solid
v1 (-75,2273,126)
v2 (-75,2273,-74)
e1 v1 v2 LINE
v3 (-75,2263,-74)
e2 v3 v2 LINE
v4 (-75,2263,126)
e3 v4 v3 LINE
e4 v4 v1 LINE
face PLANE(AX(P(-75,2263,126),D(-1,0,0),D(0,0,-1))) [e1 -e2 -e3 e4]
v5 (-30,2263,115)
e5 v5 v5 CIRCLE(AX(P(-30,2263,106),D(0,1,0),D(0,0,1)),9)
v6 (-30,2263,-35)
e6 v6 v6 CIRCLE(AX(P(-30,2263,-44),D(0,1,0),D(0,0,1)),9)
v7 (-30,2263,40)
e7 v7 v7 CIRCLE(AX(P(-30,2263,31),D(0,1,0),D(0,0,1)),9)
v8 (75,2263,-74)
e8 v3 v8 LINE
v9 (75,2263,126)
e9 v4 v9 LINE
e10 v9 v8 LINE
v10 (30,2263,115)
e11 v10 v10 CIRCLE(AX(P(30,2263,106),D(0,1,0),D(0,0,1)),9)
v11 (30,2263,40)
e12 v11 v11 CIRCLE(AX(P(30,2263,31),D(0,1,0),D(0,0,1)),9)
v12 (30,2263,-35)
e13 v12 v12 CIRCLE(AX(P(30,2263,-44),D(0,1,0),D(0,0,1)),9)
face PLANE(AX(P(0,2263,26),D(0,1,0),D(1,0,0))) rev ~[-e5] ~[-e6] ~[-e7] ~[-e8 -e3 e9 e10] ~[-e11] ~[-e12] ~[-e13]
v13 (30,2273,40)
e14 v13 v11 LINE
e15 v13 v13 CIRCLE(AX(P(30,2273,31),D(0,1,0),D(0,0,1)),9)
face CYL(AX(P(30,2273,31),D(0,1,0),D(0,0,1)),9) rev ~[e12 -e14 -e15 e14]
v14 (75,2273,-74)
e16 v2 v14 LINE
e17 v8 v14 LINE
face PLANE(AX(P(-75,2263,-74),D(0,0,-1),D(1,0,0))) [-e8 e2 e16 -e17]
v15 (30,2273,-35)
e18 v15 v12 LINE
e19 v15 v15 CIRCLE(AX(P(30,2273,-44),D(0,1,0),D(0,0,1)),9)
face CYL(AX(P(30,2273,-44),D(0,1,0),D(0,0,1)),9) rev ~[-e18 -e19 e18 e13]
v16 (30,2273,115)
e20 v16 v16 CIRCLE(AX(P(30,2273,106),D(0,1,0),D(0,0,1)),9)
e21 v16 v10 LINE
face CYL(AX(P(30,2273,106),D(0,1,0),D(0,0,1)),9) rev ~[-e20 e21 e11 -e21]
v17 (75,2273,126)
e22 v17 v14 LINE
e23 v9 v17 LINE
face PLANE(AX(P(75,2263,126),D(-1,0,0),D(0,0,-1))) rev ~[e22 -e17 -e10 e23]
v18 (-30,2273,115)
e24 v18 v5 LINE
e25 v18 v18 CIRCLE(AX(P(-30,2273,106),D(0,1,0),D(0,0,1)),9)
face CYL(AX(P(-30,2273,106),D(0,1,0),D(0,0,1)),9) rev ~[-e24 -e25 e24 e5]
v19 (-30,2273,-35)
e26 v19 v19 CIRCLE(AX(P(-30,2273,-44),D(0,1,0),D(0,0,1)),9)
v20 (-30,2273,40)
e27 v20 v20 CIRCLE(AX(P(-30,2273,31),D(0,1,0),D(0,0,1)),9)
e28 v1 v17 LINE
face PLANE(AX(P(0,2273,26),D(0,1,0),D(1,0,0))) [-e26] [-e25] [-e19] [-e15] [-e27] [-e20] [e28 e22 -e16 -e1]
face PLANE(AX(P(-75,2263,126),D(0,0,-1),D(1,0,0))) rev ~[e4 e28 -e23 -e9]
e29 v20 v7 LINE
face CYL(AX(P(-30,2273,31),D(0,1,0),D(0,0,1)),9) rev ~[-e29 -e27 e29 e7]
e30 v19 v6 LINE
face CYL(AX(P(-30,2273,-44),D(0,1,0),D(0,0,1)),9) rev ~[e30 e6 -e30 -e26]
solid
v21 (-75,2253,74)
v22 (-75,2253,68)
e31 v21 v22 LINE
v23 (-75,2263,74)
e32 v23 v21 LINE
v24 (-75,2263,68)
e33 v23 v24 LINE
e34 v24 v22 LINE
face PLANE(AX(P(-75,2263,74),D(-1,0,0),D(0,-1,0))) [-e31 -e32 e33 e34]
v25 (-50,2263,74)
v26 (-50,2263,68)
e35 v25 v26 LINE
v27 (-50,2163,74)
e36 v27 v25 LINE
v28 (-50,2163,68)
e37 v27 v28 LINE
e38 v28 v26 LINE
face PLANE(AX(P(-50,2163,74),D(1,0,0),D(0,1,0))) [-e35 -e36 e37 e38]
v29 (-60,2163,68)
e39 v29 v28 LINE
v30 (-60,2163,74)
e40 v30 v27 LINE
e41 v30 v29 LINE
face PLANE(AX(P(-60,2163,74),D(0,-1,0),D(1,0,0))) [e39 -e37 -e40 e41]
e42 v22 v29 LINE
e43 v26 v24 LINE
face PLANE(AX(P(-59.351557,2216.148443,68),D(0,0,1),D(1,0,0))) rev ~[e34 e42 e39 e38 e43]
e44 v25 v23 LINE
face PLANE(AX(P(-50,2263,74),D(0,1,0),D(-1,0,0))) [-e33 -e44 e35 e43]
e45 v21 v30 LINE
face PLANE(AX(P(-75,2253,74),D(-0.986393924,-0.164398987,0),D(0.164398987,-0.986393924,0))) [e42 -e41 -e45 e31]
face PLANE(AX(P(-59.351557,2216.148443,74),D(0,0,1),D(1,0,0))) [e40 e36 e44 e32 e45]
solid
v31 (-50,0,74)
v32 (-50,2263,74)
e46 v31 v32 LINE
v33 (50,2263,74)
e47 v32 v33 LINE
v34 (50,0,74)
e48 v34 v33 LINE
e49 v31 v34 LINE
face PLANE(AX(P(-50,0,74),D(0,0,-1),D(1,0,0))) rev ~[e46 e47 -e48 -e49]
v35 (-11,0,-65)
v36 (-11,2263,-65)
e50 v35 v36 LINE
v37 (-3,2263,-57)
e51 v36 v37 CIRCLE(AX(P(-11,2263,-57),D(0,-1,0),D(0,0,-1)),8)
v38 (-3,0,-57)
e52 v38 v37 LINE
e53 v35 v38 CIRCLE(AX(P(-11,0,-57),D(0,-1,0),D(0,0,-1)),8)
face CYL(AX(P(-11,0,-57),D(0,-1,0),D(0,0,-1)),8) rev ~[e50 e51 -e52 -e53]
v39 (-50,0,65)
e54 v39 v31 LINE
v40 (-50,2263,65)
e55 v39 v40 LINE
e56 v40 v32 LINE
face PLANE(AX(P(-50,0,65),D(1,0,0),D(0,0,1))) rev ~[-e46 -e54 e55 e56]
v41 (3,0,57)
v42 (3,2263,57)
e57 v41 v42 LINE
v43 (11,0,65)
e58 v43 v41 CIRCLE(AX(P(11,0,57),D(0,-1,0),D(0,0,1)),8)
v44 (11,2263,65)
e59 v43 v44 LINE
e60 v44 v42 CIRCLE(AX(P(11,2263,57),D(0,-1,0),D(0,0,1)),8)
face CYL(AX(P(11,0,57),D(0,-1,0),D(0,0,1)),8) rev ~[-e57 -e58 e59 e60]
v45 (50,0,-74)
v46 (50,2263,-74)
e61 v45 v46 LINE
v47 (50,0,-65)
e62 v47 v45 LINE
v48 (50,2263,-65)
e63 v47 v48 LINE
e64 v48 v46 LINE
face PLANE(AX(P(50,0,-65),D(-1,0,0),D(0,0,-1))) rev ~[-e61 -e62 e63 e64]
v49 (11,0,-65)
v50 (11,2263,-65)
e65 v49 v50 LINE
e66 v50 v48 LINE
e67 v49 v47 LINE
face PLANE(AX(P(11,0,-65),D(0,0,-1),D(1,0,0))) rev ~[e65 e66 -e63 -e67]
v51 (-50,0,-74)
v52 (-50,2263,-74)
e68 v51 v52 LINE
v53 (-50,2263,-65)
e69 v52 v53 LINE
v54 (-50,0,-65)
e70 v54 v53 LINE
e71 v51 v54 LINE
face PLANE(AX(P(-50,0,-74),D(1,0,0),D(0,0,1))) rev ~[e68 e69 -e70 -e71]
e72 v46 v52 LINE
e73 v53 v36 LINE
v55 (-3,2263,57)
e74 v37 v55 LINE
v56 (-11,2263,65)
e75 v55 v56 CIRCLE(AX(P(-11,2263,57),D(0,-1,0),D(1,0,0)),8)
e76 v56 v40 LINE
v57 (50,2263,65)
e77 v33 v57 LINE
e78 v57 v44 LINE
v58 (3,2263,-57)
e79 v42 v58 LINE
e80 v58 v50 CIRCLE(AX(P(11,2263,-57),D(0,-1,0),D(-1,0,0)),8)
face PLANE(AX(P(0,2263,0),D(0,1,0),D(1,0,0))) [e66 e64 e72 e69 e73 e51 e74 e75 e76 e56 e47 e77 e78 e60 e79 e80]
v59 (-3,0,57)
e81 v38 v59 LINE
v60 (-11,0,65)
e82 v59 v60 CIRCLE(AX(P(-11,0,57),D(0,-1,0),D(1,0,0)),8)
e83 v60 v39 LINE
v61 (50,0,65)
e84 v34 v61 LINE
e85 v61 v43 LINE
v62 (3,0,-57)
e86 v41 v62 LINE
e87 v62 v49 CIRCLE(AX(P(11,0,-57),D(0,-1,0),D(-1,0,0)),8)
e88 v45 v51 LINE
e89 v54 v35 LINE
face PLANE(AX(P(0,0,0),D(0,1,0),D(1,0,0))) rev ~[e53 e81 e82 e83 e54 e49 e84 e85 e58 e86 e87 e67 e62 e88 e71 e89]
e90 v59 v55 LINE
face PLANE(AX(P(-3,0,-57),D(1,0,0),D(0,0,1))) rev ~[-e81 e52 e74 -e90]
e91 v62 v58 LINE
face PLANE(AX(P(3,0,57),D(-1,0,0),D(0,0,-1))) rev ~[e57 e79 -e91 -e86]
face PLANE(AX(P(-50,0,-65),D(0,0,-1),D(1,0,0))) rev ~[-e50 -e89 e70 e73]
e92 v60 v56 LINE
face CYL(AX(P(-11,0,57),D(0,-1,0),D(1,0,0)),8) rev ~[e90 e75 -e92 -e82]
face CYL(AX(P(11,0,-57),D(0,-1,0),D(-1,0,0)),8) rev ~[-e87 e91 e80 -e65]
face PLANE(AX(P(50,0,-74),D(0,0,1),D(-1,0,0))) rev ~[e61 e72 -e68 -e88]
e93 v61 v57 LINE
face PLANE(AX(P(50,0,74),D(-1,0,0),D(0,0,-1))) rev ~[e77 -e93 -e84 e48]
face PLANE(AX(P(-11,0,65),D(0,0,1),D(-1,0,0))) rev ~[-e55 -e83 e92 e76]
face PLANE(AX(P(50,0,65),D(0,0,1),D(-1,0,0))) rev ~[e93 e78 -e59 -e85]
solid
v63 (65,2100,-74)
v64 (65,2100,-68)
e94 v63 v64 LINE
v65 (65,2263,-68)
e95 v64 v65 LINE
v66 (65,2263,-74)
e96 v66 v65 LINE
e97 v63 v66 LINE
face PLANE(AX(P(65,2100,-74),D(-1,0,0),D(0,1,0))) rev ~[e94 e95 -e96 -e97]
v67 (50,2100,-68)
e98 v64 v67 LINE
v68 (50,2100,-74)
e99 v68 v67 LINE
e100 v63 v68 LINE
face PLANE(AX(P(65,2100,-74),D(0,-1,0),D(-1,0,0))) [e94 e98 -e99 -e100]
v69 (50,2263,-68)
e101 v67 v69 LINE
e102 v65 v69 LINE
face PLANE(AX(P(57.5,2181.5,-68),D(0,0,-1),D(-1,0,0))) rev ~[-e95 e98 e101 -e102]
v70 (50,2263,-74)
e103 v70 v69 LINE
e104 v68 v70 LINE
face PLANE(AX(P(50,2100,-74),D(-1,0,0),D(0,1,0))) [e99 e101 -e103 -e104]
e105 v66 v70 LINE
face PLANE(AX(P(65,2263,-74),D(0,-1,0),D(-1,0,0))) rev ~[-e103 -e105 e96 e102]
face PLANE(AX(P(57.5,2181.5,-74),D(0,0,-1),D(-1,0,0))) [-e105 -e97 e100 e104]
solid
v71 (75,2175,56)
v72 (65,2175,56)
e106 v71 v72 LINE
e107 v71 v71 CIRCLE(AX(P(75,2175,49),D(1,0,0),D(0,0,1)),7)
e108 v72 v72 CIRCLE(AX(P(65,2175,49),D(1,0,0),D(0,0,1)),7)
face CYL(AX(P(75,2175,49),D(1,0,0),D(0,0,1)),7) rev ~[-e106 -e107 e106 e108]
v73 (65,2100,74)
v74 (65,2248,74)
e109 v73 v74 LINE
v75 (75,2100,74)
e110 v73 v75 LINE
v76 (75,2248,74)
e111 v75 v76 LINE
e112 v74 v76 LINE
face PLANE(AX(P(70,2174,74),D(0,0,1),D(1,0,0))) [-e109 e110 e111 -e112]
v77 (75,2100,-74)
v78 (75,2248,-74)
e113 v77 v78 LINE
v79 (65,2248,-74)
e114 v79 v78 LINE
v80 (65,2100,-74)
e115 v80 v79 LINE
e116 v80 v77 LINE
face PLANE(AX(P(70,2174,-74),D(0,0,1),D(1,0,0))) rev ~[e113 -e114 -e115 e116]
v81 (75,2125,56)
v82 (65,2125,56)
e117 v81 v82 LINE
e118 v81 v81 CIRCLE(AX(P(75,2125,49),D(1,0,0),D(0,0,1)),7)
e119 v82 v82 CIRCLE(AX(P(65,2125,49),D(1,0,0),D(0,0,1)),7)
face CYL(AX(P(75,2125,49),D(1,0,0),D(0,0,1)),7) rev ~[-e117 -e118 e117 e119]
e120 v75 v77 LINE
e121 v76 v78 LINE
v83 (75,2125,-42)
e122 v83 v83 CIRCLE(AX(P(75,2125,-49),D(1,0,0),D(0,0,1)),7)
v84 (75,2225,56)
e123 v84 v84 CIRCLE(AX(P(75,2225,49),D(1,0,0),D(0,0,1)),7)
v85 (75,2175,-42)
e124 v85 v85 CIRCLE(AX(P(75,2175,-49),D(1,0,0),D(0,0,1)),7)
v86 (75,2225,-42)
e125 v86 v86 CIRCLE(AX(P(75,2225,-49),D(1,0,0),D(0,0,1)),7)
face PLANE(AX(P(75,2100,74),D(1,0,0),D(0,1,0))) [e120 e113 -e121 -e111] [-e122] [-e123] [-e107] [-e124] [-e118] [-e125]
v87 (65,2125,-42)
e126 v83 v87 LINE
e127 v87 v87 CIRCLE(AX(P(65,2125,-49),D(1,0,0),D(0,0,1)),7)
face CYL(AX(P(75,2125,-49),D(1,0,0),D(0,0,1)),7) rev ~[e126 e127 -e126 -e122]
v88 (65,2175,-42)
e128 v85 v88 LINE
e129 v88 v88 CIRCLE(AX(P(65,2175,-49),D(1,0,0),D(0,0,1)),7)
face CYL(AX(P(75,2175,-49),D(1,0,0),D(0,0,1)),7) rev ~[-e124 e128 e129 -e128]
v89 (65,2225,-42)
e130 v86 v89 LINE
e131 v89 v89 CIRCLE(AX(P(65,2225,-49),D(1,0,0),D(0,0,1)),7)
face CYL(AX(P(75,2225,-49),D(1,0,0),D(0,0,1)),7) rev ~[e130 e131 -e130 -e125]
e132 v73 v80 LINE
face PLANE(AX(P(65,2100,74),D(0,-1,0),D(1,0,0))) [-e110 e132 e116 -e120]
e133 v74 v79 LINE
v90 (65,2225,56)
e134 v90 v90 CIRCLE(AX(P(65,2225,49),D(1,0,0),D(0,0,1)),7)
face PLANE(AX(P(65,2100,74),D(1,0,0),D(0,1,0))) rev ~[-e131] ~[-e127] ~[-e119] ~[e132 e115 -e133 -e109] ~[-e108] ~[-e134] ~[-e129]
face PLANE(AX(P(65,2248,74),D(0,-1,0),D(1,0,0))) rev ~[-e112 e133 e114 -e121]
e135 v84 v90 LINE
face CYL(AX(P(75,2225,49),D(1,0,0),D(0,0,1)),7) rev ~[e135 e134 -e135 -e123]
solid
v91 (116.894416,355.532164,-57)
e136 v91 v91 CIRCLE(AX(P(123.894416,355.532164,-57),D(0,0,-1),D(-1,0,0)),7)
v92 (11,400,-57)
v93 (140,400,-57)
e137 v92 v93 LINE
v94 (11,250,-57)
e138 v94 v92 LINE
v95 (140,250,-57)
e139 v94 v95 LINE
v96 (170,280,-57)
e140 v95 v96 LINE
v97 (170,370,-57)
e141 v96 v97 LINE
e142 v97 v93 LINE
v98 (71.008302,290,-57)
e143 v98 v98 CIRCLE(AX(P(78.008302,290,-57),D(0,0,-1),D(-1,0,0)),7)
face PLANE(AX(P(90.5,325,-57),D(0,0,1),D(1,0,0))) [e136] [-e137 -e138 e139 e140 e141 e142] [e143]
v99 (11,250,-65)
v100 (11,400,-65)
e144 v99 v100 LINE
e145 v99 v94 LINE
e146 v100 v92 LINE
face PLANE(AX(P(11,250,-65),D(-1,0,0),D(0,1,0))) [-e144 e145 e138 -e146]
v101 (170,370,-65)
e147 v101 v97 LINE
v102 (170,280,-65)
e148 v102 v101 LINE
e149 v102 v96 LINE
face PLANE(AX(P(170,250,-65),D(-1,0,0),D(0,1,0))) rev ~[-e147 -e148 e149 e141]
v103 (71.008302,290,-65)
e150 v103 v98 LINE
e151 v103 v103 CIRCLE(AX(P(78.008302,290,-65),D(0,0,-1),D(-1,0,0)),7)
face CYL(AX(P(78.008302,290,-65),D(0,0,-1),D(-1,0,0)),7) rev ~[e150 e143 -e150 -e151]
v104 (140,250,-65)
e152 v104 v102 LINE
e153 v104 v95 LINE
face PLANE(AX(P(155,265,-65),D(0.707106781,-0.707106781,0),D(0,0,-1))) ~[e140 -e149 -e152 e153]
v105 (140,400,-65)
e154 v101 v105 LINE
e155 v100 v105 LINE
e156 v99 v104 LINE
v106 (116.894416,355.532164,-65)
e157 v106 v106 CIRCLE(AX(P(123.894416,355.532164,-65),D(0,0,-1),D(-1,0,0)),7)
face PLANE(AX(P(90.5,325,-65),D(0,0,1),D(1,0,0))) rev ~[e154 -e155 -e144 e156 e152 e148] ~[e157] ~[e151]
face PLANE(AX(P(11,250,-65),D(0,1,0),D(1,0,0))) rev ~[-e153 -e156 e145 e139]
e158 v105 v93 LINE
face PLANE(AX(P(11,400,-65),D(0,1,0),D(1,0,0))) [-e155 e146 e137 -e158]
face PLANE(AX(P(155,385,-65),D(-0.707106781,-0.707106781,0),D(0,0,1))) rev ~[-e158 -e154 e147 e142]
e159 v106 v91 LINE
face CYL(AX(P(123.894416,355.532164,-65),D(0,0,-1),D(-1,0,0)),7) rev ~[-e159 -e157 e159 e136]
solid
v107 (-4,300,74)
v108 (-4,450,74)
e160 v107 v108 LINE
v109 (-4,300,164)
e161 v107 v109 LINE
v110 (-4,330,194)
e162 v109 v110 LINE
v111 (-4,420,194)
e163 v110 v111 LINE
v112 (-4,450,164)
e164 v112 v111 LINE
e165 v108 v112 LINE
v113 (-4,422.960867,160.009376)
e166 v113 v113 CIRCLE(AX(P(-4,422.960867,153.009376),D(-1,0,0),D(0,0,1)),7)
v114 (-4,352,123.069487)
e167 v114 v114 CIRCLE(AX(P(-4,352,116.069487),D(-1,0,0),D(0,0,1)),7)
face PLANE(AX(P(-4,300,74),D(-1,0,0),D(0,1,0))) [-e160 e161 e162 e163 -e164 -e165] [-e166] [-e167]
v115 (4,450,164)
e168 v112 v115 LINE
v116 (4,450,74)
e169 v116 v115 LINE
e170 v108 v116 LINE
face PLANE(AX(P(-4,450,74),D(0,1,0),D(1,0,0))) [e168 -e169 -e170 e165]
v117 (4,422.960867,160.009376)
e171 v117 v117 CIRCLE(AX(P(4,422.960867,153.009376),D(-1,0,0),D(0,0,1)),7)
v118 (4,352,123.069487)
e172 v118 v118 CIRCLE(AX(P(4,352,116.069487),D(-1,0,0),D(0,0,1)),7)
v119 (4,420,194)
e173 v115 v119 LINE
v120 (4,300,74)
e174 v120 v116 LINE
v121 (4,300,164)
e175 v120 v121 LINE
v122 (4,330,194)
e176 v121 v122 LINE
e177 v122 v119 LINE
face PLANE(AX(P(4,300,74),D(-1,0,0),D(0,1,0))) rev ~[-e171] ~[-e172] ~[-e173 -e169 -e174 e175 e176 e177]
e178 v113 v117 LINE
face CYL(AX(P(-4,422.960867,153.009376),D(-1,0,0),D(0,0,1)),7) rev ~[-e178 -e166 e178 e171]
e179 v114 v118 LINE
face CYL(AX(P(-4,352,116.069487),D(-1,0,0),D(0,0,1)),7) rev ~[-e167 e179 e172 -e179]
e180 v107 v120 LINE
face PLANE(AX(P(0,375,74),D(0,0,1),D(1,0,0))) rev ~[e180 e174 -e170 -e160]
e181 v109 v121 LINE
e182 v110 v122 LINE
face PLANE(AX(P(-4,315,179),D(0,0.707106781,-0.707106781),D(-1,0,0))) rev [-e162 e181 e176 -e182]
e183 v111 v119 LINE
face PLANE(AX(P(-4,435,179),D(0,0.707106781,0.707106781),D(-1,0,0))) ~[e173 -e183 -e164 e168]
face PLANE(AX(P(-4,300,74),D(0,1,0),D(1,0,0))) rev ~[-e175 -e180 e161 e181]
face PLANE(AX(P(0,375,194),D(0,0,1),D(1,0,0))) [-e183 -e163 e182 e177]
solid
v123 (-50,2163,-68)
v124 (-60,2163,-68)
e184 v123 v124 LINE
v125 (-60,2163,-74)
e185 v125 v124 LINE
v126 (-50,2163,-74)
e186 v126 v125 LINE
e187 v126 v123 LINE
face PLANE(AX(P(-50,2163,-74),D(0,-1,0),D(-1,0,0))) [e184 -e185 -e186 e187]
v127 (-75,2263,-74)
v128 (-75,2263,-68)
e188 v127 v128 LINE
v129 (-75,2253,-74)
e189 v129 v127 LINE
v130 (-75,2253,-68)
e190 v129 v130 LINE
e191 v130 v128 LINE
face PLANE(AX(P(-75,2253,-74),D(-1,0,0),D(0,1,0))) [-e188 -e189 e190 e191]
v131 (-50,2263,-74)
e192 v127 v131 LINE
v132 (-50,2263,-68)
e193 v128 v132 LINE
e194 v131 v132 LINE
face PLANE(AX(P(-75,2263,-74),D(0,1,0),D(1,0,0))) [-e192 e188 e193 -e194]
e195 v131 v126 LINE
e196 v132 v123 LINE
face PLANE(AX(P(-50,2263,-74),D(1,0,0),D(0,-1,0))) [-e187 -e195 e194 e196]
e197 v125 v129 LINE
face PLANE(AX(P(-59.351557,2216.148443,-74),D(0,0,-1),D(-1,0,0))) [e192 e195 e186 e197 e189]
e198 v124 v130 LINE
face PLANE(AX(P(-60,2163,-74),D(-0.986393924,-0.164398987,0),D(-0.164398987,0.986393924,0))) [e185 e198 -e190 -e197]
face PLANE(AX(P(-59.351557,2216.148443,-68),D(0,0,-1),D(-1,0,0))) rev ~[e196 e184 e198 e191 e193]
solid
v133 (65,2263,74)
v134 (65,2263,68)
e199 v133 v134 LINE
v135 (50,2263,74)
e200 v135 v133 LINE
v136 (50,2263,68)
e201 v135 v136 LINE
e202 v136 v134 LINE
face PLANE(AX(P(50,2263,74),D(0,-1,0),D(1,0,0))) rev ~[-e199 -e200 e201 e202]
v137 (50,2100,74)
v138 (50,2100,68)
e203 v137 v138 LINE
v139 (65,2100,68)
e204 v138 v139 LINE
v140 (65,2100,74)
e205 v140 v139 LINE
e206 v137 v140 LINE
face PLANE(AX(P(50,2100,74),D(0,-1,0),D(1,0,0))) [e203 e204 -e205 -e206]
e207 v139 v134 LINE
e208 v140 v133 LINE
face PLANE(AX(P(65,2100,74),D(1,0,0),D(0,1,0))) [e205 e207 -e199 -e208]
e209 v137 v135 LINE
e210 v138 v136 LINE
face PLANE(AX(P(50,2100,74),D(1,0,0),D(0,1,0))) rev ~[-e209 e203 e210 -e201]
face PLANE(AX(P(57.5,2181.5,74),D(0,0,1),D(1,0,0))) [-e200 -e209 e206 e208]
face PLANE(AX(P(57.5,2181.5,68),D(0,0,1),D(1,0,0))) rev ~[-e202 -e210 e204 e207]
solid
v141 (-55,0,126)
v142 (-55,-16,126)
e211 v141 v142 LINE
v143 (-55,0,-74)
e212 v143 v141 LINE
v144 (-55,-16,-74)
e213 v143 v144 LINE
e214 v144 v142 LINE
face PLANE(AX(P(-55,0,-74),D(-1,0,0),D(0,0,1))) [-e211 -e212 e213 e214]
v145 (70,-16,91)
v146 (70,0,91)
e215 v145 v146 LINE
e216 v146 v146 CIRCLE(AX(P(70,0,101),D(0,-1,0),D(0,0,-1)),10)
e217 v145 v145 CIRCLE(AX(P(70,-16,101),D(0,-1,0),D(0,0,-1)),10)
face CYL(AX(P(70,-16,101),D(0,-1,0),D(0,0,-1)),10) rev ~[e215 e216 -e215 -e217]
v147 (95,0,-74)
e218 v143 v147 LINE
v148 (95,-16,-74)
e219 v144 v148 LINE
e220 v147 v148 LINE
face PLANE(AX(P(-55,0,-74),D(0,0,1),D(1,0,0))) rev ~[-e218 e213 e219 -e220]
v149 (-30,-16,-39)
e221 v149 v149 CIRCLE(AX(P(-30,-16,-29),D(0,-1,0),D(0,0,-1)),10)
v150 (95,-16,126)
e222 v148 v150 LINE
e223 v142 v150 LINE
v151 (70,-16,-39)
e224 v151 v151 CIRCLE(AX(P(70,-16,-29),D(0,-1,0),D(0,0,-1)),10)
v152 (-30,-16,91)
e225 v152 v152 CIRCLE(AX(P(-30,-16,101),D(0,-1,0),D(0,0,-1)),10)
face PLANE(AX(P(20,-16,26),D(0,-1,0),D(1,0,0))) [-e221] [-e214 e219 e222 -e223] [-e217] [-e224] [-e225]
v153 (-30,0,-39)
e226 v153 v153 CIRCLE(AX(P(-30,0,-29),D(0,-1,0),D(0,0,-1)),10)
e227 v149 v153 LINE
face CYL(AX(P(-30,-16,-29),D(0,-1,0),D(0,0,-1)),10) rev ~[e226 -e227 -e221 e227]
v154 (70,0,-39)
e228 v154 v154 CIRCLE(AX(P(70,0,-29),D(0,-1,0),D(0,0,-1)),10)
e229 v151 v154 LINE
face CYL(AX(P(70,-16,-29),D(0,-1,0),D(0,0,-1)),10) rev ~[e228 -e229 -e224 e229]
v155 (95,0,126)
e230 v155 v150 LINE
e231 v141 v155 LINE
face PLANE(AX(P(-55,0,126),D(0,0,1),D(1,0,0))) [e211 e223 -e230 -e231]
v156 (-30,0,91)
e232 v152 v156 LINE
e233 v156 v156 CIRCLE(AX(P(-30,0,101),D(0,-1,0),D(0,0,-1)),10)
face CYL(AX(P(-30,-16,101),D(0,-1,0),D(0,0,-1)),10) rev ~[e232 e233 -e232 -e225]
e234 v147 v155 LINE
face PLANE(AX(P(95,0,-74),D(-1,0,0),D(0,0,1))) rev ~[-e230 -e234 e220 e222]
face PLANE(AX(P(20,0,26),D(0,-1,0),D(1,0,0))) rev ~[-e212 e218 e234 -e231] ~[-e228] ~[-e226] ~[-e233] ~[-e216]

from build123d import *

# Parameters (mm, degrees)
H_HM150_100_7_DEPTH      = 2263
SKETCH_18_W              = 150
SKETCH_18_H              = 200
EXTRUDE_1_DEPTH          = 10
SKETCH_19_R              = 9
CUT_EXTRUDE_4_DEPTH      = 10
SKETCH_20_W              = 150
SKETCH_20_H              = 200
EXTRUDE_2_DEPTH          = 16
SKETCH_22_W              = 8
SKETCH_22_H              = 150
EXTRUDE_4_DEPTH          = 120
CHAMFER_1_SIZE           = 30
SKETCH_23_R              = 7
CUT_EXTRUDE_5_DEPTH      = 8
SKETCH_24_W              = 159
SKETCH_24_H              = 150
EXTRUDE_5_DEPTH          = 8
CHAMFER_2_SIZE           = 30
SKETCH_25_R              = 7
CUT_EXTRUDE_6_DEPTH      = 8
EXTRUDE_6_DEPTH          = 6
SKETCH_26_W              = 15
SKETCH_26_H              = 163
EXTRUDE_6_2_DEPTH        = 6
SKETCH_27_W              = 15
SKETCH_27_H              = 163
EXTRUDE_7_DEPTH          = 6
EXTRUDE_7_2_DEPTH        = 6
SKETCH_28_W              = 10
SKETCH_28_H              = 148
EXTRUDE_8_DEPTH          = 148
SKETCH_29_R              = 7
CUT_EXTRUDE_7_DEPTH      = 2287.19006209
CUT_EXTRUDE_7_DEPTH_BACK = 10
SKETCH_30_R              = 10
CUT_EXTRUDE_8_DEPTH      = 16


with BuildPart() as part:
    # 草图1 → H型钢 HM150×100(7) (new body)
    with BuildSketch(Plane(origin=(0, 0, 0), x_dir=(1, 0, 0), z_dir=(0, 1, 0))):
        with BuildLine():
            Line((-50, -74), (50, -74))
            Line((50, -74), (50, -65))
            Line((50, -65), (11, -65))
            ThreePointArc((11, -65), (5.343145751, -62.656854249), (3, -57))
            Line((3, -57), (3, 57))
            ThreePointArc((3, 57), (5.343145751, 62.656854249), (11, 65))
            Line((11, 65), (50, 65))
            Line((50, 65), (50, 74))
            Line((50, 74), (-50, 74))
            Line((-50, 74), (-50, 65))
            Line((-50, 65), (-11, 65))
            ThreePointArc((-11, 65), (-5.343145751, 62.656854249), (-3, 57))
            Line((-3, 57), (-3, -57))
            ThreePointArc((-3, -57), (-5.343145751, -62.656854249), (-11, -65))
            Line((-11, -65), (-50, -65))
            Line((-50, -65), (-50, -74))
        make_face()
    extrude(amount=H_HM150_100_7_DEPTH)


with BuildPart() as body_2:
    # 草图18 → 凸台-拉伸1 (new body)
    with BuildSketch(Plane(origin=(0, 2263, 0), x_dir=(1, 0, 0), z_dir=(0, 1, 0))):
        with Locations((0, -26)):
            Rectangle(SKETCH_18_W, SKETCH_18_H)
    extrude(amount=EXTRUDE_1_DEPTH)

    # 草图19 → 切除-拉伸4 (cut)
    with BuildSketch(Plane(origin=(0, 2273, 0), x_dir=(1, 0, 0), z_dir=(0, 1, 0))):
        with Locations(Location((-30, 44, 0), (0, 0, 270))):
            Circle(SKETCH_19_R)
        with Locations(Location((30, 44, 0), (0, 0, 270))):
            Circle(SKETCH_19_R)
        with Locations(Location((-30, -31, 0), (0, 0, 270))):
            Circle(SKETCH_19_R)
        with Locations(Location((30, -31, 0), (0, 0, 270))):
            Circle(SKETCH_19_R)
        with Locations(Location((-30, -106, 0), (0, 0, 270))):
            Circle(SKETCH_19_R)
        with Locations(Location((30, -106, 0), (0, 0, 270))):
            Circle(SKETCH_19_R)
    extrude(amount=-CUT_EXTRUDE_4_DEPTH, mode=Mode.SUBTRACT)


with BuildPart() as body_3:
    # 草图20 → 凸台-拉伸2 (new body)
    with BuildSketch(Plane.XZ):
        with Locations((20, 26)):
            Rectangle(SKETCH_20_W, SKETCH_20_H)
    extrude(amount=EXTRUDE_2_DEPTH)

    # 草图30 → 切除-拉伸8 (cut)
    with BuildSketch(Plane.XZ.offset(16)):
        with Locations(Location((70, 101, 0), (0, 0, 270))):
            Circle(SKETCH_30_R)
        with Locations(Location((-30, 101, 0), (0, 0, 270))):
            Circle(SKETCH_30_R)
        with Locations(Location((-30, -29, 0), (0, 0, 270))):
            Circle(SKETCH_30_R)
        with Locations(Location((70, -29, 0), (0, 0, 270))):
            Circle(SKETCH_30_R)
    extrude(amount=-CUT_EXTRUDE_8_DEPTH, mode=Mode.SUBTRACT)


with BuildPart() as body_4:
    # 草图22 → 凸台-拉伸4 (new body)
    with BuildSketch(Plane.XY.offset(74)):
        with Locations((0, 375)):
            Rectangle(SKETCH_22_W, SKETCH_22_H)
    extrude(amount=EXTRUDE_4_DEPTH)

    # 倒角1
    chamfer_1_edges = [body_4.edges().sort_by_distance(p)[0] for p in [
        (0, 300, 194),
        (0, 450, 194),
    ]]
    chamfer(chamfer_1_edges, length=CHAMFER_1_SIZE)

    # 草图23 → 切除-拉伸5 (cut)
    with BuildSketch(Plane.ZY.offset(4)):
        with Locations((116.069486629, 352)):
            Circle(SKETCH_23_R)
        with Locations((153.009375687, 422.960866654)):
            Circle(SKETCH_23_R)
    extrude(amount=-CUT_EXTRUDE_5_DEPTH, mode=Mode.SUBTRACT)


with BuildPart() as body_5:
    # 草图24 → 凸台-拉伸5 (new body)
    with BuildSketch(Plane.XY.offset(-65)):
        with Locations((90.5, 325)):
            Rectangle(SKETCH_24_W, SKETCH_24_H)
    extrude(amount=EXTRUDE_5_DEPTH)

    # 倒角2
    chamfer_2_edges = [body_5.edges().sort_by_distance(p)[0] for p in [
        (170, 250, -61),
        (170, 400, -61),
    ]]
    chamfer(chamfer_2_edges, length=CHAMFER_2_SIZE)

    # 草图25 → 切除-拉伸6 (cut)
    with BuildSketch(Plane(origin=(0, 0, -65), x_dir=(-1, 0, 0), z_dir=(0, 0, -1))):
        with Locations((-78.008301528, 290)):
            Circle(SKETCH_25_R)
        with Locations((-123.894416436, 355.532163543)):
            Circle(SKETCH_25_R)
    extrude(amount=-CUT_EXTRUDE_6_DEPTH, mode=Mode.SUBTRACT)


with BuildPart() as body_6:
    # 草图26 → 凸台-拉伸6 (new body)
    with BuildSketch(Plane.XY.offset(74)):
        Polygon((-50, 2263), (-75, 2263), (-75, 2253), (-60, 2163), (-50, 2163), align=None)
    extrude(amount=-EXTRUDE_6_DEPTH)


with BuildPart() as body_7:
    # 草图26 → Extrude 6 2 (new body)
    with BuildSketch(Plane.XY.offset(74)):
        with Locations((57.5, 2181.5)):
            Rectangle(SKETCH_26_W, SKETCH_26_H)
    extrude(amount=-EXTRUDE_6_2_DEPTH)


with BuildPart() as body_8:
    # 草图27 → 凸台-拉伸7 (new body)
    with BuildSketch(Plane(origin=(0, 0, -74), x_dir=(-1, 0, 0), z_dir=(0, 0, -1))):
        with Locations((-57.5, 2181.5)):
            Rectangle(SKETCH_27_W, SKETCH_27_H)
    extrude(amount=-EXTRUDE_7_DEPTH)


with BuildPart() as body_9:
    # 草图27 → Extrude 7 2 (new body)
    with BuildSketch(Plane(origin=(0, 0, -74), x_dir=(-1, 0, 0), z_dir=(0, 0, -1))):
        Polygon((50, 2263), (50, 2163), (60, 2163), (75, 2253), (75, 2263), align=None)
    extrude(amount=-EXTRUDE_7_2_DEPTH)


with BuildPart() as body_10:
    # 草图28 → 凸台-拉伸8 (new body)
    with BuildSketch(Plane.XY.offset(74)):
        with Locations((70, 2174)):
            Rectangle(SKETCH_28_W, SKETCH_28_H)
    extrude(amount=-EXTRUDE_8_DEPTH)

    # 草图29 → 切除-拉伸7 (cut, two sides)
    with BuildSketch(Plane(origin=(75, 0, 0), x_dir=(0, 0, -1), z_dir=(1, 0, 0))) as cut_extrude_7_sk:
        with Locations(Location((-49, 2225, 0), (0, 0, 180))):
            Circle(SKETCH_29_R)
        with Locations(Location((49, 2225, 0), (0, 0, 180))):
            Circle(SKETCH_29_R)
        with Locations(Location((49, 2175, 0), (0, 0, 180))):
            Circle(SKETCH_29_R)
        with Locations(Location((-49, 2175, 0), (0, 0, 180))):
            Circle(SKETCH_29_R)
        with Locations(Location((49, 2125, 0), (0, 0, 180))):
            Circle(SKETCH_29_R)
        with Locations(Location((-49, 2125, 0), (0, 0, 180))):
            Circle(SKETCH_29_R)
    extrude(amount=CUT_EXTRUDE_7_DEPTH, mode=Mode.SUBTRACT)
    extrude(cut_extrude_7_sk.sketch, amount=-CUT_EXTRUDE_7_DEPTH_BACK, mode=Mode.SUBTRACT)


solid = Compound([part.part, body_2.part, body_3.part, body_4.part, body_5.part, body_6.part, body_7.part, body_8.part, body_9.part, body_10.part])
